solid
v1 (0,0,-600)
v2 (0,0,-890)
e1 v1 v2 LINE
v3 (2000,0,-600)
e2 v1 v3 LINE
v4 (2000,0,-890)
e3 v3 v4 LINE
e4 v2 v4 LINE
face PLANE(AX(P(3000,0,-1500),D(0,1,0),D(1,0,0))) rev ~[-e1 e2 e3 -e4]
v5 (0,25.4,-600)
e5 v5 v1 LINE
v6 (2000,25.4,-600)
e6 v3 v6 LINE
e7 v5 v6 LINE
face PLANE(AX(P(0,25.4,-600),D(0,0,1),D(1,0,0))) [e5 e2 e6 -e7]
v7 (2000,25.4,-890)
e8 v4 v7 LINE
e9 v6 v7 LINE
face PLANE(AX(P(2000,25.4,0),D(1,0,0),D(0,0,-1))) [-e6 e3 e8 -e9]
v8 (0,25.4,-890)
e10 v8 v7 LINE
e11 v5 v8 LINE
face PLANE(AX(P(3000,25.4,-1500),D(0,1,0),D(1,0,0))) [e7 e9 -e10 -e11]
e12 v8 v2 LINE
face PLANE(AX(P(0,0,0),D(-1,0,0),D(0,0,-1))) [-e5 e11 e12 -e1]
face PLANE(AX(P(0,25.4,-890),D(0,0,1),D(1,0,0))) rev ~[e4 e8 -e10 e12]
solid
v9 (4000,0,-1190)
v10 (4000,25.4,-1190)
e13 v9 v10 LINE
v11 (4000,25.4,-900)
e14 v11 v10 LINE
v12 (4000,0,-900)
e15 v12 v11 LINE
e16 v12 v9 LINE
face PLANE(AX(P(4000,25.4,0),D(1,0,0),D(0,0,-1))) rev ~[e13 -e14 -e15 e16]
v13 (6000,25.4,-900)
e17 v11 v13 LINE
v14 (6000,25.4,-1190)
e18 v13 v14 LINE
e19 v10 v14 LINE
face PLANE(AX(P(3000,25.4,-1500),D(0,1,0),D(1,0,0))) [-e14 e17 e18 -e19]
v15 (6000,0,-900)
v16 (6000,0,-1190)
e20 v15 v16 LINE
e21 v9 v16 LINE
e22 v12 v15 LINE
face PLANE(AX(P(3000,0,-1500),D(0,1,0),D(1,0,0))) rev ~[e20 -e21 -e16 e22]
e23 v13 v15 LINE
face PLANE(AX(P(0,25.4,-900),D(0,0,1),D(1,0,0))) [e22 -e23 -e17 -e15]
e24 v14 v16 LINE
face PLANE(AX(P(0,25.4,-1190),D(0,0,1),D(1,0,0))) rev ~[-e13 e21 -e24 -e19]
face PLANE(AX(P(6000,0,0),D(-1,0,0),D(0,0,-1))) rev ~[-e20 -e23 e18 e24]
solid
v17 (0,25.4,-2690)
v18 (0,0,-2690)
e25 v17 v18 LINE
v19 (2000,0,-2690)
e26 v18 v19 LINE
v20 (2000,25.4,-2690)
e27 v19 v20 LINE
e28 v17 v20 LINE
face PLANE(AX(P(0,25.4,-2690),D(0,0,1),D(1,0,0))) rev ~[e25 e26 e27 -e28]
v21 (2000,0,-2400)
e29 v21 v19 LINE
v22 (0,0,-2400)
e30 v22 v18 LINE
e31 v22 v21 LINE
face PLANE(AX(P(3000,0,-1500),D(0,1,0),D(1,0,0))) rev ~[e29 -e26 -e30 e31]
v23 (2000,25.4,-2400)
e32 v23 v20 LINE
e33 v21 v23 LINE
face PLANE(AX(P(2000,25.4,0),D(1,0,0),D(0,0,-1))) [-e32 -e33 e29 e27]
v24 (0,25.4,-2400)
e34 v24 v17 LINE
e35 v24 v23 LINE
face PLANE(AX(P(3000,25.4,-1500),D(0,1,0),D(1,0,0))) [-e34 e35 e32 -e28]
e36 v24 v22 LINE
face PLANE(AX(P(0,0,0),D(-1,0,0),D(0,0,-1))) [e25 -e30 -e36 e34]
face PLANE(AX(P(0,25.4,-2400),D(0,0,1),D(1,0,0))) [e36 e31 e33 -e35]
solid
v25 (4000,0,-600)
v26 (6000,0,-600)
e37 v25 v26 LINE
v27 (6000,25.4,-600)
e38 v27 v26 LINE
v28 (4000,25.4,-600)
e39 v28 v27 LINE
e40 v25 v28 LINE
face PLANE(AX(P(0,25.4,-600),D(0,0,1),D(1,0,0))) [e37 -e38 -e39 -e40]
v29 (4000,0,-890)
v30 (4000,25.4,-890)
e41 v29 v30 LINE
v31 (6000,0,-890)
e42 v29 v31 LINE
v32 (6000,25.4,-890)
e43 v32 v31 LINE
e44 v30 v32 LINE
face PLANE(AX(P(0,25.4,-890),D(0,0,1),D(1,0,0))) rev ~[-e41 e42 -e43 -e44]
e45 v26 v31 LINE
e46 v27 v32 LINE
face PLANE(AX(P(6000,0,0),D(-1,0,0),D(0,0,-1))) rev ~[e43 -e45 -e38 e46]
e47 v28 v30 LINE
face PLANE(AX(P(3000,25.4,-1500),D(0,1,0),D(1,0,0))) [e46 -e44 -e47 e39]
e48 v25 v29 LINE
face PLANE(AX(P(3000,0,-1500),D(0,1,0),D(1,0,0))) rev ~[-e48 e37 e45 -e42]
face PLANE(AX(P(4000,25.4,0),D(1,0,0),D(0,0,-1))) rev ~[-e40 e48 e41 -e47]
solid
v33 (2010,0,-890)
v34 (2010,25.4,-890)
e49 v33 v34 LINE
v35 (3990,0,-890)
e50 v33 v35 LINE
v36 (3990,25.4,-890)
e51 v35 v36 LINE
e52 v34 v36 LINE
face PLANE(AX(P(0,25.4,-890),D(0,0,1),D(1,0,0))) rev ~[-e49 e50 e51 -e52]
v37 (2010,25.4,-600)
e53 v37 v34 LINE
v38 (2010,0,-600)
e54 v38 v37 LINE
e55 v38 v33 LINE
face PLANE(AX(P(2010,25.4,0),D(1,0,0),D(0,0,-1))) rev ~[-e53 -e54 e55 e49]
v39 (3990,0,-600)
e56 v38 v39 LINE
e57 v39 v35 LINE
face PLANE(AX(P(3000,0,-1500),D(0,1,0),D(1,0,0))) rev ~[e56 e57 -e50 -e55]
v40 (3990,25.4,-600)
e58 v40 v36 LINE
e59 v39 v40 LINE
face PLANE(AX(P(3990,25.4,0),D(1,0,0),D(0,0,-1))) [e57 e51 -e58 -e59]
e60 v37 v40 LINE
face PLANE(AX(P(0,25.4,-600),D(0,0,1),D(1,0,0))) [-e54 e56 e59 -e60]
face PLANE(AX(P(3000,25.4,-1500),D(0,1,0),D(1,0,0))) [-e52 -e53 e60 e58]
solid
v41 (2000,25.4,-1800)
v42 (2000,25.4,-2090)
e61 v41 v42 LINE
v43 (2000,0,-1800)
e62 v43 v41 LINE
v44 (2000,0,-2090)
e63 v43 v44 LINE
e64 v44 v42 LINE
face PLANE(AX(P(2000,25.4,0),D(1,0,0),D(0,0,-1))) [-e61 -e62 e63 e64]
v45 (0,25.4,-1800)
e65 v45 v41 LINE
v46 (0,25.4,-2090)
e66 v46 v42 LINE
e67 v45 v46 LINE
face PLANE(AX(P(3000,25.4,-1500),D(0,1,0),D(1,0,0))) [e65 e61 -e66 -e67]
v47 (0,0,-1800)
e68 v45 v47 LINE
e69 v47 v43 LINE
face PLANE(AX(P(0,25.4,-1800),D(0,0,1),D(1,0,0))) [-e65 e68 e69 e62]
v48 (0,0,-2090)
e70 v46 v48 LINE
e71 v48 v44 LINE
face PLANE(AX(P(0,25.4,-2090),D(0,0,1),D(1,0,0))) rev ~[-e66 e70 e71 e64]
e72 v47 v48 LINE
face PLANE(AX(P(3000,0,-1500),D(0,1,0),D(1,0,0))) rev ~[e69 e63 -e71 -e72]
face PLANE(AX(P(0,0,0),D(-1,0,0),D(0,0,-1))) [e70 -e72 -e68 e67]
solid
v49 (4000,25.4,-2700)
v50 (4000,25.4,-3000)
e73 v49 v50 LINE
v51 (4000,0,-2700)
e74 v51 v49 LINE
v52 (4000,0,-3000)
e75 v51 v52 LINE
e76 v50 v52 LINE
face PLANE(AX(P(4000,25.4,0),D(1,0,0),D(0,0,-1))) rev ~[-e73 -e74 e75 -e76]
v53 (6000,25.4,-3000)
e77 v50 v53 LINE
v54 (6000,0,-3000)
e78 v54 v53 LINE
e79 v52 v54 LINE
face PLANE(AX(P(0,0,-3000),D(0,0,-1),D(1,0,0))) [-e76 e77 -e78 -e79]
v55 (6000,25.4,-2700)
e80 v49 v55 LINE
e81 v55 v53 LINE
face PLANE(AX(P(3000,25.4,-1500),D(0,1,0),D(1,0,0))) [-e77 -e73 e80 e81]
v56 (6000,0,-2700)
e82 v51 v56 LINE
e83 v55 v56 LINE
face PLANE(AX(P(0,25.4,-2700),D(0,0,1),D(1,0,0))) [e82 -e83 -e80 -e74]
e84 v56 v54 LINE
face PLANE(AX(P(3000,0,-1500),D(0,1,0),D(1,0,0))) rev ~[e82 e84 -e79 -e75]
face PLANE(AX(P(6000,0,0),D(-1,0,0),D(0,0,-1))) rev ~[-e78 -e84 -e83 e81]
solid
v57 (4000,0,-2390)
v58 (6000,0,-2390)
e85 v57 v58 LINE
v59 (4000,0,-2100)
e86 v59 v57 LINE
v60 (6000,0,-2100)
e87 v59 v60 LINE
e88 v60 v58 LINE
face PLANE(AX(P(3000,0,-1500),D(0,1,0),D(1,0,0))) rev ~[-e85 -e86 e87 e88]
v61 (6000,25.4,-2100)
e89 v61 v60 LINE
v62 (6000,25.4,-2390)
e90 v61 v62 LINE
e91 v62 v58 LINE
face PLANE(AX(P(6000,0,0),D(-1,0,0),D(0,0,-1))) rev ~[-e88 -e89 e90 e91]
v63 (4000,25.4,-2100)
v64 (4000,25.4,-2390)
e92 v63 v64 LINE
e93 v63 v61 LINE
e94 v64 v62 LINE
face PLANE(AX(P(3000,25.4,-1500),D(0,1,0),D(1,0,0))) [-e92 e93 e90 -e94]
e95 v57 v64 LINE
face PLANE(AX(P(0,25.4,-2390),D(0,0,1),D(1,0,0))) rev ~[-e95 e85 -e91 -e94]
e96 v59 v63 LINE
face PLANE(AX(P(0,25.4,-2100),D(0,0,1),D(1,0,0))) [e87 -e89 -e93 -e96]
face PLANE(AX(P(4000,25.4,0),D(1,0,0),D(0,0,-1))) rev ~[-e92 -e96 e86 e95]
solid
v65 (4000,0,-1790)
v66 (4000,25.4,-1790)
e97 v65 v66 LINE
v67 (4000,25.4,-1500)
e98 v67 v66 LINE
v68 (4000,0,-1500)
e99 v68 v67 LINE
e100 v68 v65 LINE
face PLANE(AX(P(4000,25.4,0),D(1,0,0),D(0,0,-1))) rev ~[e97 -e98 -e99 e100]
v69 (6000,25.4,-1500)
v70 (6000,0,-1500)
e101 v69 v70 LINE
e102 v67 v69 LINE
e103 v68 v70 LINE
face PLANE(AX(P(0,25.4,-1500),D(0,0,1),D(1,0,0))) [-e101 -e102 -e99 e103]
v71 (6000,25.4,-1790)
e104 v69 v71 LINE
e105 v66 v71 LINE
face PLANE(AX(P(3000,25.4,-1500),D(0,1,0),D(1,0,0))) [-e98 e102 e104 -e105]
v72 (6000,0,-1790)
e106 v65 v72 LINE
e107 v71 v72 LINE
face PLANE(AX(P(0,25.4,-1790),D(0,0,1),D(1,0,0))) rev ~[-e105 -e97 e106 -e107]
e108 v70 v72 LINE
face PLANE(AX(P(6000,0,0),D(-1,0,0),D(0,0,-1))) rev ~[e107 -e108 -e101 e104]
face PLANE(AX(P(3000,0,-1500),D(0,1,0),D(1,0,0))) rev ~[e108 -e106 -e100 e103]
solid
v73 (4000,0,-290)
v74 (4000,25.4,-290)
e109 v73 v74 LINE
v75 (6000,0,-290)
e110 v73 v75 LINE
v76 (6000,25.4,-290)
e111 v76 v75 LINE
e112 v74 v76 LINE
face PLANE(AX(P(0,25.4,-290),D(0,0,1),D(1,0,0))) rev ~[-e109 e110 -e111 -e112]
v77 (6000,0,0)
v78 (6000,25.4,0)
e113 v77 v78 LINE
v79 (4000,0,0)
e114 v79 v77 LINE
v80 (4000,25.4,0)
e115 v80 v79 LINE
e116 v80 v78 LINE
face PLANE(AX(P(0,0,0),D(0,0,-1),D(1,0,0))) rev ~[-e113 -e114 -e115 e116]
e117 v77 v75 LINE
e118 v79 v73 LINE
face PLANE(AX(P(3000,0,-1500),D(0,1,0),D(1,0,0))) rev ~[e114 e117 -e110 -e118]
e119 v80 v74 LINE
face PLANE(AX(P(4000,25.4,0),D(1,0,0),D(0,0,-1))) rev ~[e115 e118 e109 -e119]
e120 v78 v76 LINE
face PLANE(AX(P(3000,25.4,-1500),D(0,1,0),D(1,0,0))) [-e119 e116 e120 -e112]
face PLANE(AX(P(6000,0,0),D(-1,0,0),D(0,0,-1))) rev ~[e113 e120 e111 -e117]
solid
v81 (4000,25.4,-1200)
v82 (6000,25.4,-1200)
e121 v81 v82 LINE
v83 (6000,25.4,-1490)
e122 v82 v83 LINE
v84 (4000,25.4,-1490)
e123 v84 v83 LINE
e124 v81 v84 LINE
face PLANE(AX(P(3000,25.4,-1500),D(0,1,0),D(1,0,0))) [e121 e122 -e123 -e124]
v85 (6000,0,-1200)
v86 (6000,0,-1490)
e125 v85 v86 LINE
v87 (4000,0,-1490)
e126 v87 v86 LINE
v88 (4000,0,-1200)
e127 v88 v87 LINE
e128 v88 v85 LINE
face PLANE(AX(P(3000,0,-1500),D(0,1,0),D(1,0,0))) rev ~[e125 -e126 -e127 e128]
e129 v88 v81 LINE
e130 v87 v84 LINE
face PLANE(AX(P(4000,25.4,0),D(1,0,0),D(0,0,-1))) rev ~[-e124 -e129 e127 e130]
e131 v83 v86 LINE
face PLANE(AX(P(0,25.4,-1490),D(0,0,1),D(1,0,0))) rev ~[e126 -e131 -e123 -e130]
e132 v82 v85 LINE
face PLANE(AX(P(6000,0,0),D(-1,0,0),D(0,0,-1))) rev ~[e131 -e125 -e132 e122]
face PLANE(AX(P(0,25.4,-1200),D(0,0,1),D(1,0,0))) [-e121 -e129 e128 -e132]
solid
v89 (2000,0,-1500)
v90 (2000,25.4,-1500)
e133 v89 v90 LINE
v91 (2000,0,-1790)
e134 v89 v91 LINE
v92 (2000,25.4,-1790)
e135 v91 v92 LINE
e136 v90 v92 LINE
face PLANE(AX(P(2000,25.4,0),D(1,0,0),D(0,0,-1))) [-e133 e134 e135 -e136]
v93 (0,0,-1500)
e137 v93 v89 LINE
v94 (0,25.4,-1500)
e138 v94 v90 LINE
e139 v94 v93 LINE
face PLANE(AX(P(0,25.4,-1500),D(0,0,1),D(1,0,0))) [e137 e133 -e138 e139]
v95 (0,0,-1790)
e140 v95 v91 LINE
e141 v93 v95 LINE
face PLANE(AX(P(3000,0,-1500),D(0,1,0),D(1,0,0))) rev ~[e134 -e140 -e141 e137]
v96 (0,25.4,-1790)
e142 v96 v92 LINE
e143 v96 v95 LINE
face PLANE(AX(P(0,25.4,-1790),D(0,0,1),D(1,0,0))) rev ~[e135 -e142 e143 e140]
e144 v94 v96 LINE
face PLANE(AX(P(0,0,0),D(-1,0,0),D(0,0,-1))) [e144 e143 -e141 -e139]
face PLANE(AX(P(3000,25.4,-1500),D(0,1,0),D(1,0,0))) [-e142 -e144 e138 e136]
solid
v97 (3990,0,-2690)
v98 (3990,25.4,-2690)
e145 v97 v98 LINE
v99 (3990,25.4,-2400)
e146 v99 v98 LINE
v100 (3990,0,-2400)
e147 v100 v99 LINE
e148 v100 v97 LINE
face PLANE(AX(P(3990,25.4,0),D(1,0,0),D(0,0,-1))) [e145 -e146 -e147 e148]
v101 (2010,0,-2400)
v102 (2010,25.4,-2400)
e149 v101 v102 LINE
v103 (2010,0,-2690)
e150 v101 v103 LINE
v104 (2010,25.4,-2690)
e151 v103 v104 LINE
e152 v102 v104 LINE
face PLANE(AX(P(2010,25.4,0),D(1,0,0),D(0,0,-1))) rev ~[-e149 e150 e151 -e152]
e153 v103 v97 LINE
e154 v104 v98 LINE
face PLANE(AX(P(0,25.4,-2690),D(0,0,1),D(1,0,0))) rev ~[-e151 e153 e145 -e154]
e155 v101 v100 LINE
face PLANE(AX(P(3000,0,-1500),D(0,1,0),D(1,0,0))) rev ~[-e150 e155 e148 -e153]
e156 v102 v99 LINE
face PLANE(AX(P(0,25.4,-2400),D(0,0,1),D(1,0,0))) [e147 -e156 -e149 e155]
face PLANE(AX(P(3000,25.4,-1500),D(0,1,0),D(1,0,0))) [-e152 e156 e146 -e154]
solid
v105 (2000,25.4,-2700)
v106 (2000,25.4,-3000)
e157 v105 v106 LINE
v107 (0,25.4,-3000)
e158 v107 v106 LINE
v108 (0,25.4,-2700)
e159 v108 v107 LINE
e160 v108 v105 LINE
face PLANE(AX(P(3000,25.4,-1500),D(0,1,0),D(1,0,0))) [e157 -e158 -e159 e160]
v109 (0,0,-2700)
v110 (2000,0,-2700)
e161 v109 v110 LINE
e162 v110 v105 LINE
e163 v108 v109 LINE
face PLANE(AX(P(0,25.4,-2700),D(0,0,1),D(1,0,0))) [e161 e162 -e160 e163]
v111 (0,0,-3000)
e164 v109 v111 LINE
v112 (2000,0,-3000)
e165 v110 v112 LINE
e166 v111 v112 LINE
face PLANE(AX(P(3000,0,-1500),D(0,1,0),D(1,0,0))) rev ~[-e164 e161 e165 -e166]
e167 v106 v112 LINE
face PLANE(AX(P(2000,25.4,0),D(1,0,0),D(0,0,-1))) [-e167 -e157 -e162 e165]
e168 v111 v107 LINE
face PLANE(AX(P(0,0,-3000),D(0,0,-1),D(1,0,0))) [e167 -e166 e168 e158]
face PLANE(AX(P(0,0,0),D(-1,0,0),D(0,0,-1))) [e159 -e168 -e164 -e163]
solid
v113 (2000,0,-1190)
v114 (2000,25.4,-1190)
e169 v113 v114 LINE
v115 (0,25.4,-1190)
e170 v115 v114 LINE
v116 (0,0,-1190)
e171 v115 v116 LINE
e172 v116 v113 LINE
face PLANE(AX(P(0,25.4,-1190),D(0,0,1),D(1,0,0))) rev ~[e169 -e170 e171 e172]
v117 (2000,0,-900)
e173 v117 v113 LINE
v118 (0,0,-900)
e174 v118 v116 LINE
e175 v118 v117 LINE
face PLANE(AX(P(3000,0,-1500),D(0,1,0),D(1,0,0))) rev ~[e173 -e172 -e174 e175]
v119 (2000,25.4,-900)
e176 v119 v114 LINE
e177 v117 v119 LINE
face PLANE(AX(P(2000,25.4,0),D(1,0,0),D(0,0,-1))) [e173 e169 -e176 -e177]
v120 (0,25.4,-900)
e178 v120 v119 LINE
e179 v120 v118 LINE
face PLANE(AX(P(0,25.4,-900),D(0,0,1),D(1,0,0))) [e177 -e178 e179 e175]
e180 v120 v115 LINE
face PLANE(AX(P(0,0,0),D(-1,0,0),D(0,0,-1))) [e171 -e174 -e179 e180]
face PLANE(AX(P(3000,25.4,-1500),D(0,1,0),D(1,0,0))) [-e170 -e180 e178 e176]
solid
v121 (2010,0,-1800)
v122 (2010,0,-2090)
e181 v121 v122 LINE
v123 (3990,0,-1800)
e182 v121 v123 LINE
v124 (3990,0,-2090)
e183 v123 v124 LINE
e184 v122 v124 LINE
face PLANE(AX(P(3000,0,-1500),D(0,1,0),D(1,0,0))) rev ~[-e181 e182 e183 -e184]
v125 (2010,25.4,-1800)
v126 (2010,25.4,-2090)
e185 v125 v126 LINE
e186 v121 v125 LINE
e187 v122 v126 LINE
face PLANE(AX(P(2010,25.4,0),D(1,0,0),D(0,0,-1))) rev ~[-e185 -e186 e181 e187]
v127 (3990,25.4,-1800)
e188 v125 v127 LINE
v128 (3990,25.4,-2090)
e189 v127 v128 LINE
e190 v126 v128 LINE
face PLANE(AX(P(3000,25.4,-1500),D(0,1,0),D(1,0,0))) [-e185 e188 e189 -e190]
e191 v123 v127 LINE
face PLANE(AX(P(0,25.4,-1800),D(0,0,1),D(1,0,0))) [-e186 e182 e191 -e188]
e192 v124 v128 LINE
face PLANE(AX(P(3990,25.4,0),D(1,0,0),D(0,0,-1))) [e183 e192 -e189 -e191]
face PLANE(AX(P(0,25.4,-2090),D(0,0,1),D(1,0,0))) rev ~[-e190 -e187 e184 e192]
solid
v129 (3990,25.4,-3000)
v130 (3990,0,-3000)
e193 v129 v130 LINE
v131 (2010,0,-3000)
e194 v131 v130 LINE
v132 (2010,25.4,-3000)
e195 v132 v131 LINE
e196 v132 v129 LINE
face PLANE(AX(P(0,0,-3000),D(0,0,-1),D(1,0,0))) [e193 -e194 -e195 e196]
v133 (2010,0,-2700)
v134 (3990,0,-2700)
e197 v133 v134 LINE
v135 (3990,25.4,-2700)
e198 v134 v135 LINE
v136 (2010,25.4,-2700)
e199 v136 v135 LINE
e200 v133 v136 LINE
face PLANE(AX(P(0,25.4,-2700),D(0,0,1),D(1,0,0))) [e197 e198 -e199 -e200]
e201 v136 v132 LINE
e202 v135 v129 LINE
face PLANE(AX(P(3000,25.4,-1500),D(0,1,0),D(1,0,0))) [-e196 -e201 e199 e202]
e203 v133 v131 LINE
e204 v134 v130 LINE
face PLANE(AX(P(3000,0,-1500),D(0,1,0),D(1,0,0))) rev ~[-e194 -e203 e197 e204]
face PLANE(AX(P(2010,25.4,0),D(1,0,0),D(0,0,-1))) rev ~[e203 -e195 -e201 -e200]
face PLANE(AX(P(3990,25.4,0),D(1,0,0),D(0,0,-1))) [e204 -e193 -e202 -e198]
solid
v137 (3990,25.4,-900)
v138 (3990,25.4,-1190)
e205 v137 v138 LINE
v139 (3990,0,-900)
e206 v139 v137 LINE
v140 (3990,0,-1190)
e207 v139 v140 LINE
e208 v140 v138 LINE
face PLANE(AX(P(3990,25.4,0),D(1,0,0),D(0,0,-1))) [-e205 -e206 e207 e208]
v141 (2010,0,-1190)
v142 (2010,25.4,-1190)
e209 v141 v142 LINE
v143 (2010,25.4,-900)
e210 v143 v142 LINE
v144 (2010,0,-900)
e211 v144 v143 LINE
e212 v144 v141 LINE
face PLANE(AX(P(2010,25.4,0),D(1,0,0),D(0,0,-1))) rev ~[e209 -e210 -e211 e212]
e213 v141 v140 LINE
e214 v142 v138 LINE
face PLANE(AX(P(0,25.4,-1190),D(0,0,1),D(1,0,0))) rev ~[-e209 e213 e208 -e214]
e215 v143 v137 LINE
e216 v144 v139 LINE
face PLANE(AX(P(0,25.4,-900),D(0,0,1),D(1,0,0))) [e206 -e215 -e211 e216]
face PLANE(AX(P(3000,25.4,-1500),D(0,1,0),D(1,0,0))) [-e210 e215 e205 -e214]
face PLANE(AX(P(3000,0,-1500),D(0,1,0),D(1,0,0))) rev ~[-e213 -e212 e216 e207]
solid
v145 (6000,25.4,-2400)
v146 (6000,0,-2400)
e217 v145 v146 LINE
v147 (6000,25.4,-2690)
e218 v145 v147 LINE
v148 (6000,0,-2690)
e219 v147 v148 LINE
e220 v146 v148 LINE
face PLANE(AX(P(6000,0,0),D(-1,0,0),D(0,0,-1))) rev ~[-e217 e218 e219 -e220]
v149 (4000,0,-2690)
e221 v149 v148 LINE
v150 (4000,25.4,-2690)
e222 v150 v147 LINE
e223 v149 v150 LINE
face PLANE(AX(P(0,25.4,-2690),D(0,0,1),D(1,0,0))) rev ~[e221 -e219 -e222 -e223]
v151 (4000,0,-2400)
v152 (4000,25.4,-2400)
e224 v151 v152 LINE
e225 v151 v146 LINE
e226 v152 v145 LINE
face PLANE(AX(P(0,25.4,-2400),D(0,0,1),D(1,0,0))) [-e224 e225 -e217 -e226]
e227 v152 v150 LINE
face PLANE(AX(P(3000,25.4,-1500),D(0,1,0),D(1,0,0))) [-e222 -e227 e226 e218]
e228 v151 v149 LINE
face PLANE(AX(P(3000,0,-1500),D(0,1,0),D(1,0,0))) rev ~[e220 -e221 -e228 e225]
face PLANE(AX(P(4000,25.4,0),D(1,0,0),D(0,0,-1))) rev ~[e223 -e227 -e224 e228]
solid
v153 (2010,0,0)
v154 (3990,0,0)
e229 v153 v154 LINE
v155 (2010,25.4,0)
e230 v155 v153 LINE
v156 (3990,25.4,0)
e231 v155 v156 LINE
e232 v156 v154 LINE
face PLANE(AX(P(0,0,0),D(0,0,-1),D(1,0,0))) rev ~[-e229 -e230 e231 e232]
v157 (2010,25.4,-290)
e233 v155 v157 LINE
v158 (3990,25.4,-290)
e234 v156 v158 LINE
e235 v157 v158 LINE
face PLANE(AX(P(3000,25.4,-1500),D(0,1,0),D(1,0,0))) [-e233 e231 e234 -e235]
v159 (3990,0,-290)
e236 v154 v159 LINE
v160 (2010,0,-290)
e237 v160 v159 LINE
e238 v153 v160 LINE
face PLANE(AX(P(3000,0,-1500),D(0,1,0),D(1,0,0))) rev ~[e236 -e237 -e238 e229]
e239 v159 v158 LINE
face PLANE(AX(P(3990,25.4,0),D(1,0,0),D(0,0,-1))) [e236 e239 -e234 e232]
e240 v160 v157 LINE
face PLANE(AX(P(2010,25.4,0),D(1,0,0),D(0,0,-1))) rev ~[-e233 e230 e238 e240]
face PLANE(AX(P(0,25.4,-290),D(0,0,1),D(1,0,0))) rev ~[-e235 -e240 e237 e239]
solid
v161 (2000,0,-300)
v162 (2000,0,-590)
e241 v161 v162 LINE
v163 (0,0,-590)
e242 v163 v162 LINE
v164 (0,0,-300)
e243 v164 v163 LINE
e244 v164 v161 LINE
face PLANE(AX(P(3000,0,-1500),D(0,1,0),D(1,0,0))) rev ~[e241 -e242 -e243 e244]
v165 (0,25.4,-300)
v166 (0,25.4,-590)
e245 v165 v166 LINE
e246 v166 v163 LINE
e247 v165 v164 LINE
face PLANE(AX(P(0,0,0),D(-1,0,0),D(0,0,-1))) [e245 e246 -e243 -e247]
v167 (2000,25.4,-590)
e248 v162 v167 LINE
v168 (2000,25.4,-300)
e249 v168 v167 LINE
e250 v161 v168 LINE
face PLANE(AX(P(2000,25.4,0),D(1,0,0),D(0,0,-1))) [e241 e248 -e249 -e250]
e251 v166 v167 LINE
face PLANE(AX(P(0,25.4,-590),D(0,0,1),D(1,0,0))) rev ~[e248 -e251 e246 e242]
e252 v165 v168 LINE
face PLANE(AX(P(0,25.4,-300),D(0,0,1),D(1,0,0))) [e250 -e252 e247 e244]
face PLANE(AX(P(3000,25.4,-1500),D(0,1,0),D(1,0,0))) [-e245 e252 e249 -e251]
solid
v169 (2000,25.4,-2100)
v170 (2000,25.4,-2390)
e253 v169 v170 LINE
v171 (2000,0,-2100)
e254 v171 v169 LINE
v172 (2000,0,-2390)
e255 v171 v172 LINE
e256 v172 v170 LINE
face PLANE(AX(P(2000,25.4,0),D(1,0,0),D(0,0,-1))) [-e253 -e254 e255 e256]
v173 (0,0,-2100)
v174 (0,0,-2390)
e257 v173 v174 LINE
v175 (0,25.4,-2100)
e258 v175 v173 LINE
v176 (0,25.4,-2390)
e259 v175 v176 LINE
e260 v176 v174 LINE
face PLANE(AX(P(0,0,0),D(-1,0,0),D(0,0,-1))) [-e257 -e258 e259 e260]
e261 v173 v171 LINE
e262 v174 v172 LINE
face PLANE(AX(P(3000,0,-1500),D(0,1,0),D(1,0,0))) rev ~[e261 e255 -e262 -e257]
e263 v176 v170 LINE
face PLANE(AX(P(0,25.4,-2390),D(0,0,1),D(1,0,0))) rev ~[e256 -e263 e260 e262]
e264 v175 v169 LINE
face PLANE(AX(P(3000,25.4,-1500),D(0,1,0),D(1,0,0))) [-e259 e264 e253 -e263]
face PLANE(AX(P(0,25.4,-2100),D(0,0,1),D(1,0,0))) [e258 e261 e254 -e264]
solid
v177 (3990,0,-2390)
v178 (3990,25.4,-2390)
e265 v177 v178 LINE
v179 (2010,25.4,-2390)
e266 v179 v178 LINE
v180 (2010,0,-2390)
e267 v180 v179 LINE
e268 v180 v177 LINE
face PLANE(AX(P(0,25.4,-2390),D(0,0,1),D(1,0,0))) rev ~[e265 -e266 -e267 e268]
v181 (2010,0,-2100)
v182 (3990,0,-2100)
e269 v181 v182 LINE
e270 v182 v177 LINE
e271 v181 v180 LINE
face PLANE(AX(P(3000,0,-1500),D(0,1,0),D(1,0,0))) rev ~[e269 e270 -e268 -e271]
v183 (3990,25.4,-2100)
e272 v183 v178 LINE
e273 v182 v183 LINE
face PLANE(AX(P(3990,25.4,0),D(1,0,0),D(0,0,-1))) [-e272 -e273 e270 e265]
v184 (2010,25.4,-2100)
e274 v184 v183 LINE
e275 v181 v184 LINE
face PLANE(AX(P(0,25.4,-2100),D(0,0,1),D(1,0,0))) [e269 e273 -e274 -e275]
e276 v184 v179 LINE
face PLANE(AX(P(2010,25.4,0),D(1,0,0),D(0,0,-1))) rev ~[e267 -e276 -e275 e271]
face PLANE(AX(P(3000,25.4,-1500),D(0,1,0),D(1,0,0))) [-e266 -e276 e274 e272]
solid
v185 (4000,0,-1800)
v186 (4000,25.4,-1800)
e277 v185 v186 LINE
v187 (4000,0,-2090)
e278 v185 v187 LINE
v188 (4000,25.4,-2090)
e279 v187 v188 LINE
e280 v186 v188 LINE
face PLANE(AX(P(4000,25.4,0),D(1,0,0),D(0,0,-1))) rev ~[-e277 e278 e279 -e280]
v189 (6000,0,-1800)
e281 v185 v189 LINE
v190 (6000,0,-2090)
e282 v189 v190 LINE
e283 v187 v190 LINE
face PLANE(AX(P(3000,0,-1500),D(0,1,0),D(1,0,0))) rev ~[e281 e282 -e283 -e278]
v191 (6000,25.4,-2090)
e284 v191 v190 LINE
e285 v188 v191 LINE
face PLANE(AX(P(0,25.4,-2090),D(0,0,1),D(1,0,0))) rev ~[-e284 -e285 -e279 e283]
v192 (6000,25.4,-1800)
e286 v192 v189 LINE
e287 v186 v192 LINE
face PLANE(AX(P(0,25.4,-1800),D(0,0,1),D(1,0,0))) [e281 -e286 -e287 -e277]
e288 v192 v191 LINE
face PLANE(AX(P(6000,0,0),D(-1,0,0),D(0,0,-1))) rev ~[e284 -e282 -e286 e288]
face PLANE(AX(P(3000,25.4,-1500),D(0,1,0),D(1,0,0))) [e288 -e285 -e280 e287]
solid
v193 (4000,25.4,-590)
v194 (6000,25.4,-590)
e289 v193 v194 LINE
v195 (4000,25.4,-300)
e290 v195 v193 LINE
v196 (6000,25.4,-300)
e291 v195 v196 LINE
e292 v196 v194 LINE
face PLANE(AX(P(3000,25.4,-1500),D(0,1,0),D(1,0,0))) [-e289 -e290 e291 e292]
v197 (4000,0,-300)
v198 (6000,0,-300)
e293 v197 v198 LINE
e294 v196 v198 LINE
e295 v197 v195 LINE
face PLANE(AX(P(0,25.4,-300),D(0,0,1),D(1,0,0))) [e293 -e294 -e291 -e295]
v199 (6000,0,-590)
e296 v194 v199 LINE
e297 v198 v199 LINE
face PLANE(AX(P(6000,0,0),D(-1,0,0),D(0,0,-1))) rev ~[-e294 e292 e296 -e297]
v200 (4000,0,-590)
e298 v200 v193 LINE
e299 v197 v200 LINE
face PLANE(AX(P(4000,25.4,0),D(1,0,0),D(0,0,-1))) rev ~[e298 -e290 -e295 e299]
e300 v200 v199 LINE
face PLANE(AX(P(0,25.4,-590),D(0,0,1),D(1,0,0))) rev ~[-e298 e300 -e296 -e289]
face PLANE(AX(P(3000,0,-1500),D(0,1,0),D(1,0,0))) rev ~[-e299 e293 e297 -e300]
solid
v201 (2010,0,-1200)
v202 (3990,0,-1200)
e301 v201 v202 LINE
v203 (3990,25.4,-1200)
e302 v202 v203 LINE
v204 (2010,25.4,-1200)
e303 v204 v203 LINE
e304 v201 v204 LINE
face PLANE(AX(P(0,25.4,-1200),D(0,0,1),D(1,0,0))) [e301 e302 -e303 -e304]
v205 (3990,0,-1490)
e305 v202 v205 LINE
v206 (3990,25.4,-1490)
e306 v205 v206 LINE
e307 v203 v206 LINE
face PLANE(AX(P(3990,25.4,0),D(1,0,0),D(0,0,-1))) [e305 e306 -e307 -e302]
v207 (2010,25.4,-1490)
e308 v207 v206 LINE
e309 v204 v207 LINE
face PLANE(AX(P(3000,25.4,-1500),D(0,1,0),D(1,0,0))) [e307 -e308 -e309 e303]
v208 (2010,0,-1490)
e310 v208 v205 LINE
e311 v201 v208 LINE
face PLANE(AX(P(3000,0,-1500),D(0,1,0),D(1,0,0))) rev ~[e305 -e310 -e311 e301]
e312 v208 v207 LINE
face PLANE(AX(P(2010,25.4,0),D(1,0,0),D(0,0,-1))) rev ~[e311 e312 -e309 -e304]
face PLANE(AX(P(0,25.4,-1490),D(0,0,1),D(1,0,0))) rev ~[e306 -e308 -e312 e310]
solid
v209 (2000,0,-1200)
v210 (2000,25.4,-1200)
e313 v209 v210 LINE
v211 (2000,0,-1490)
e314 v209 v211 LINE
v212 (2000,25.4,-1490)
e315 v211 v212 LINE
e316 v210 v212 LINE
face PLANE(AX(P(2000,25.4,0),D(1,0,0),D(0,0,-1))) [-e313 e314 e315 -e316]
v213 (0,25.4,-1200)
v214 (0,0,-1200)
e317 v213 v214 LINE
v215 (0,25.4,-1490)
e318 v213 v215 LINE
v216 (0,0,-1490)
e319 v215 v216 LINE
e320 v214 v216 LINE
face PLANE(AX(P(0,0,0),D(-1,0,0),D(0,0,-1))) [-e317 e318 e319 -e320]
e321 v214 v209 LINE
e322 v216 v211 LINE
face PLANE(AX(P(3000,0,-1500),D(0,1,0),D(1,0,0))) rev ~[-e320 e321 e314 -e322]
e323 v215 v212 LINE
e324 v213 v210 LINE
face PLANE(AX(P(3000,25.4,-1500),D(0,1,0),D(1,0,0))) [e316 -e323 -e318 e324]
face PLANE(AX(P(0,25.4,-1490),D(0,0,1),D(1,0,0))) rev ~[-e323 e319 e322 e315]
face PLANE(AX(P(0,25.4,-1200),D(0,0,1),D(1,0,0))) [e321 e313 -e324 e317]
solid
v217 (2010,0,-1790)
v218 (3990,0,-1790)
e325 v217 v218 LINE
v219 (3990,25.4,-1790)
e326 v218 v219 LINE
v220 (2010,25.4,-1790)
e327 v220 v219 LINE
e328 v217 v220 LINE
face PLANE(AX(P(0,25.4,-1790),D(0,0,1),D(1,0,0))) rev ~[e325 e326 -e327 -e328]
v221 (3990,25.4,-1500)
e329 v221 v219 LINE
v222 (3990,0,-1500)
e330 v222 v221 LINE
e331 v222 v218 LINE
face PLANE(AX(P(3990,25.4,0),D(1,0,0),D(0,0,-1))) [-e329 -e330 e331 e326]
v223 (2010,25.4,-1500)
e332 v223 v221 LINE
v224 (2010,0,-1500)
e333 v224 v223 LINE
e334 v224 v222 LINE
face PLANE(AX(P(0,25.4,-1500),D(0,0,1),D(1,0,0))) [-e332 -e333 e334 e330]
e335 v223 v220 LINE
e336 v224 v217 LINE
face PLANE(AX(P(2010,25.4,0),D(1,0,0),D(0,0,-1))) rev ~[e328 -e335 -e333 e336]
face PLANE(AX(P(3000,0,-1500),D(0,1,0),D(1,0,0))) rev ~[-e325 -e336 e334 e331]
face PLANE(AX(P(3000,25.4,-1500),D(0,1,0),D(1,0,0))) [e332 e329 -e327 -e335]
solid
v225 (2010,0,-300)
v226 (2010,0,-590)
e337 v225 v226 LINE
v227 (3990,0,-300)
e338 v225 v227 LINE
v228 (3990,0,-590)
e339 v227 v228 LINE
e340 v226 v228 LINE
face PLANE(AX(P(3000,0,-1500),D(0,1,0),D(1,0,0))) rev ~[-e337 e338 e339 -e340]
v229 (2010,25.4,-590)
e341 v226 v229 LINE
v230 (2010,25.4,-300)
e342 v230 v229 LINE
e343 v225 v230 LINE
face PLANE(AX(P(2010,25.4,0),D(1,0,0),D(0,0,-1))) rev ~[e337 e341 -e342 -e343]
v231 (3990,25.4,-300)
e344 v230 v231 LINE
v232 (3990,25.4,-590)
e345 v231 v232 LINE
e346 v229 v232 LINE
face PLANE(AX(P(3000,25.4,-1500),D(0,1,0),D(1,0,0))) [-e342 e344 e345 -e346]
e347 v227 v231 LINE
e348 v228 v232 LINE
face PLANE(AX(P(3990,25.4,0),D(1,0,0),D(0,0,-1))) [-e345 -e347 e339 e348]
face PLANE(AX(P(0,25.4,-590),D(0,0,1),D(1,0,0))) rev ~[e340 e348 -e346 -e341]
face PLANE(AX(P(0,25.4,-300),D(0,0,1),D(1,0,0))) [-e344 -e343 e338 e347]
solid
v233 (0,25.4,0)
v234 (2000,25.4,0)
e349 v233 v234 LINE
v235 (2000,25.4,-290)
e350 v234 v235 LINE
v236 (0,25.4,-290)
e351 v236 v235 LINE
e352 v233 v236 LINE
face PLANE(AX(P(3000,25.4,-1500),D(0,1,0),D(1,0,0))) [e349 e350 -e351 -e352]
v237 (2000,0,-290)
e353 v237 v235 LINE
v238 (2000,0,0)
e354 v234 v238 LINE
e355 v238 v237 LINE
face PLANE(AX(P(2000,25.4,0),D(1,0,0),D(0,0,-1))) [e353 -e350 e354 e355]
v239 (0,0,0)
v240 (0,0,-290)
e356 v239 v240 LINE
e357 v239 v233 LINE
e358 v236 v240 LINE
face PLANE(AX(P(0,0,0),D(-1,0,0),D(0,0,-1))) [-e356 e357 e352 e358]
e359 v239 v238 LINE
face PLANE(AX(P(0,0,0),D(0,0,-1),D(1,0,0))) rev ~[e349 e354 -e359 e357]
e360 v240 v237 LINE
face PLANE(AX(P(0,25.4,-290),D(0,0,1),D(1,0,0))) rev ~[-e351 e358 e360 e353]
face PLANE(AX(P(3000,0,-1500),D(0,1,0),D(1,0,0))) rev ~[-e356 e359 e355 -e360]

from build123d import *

# Parameters (mm, degrees)
SKETCH_2_W          = 6000
SKETCH_2_H          = 3000
EXTRUDE_1_DEPTH     = 25.4
SKETCH_3_W          = 6000
SKETCH_3_H          = 10
CUT_EXTRUDE_1_DEPTH = 26.4
SKETCH_4_W          = 10
SKETCH_4_H          = 3000
CUT_EXTRUDE_2_DEPTH = 25.4


with BuildPart() as part:
    # 草图2 → 凸台-拉伸1 (new body)
    with BuildSketch(Plane(origin=(0, 0, 0), x_dir=(1, 0, 0), z_dir=(0, 1, 0))):
        with Locations((3000, 1500)):
            Rectangle(SKETCH_2_W, SKETCH_2_H)
    extrude(amount=EXTRUDE_1_DEPTH)

    # 草图3 → 切除-拉伸1 (cut, through all)
    with BuildSketch(Plane(origin=(0, 25.4, 0), x_dir=(1, 0, 0), z_dir=(0, 1, 0))):
        with Locations((3000, 2695)):
            Rectangle(SKETCH_3_W, SKETCH_3_H)
        with Locations((3000, 2395)):
            Rectangle(SKETCH_3_W, SKETCH_3_H)
        with Locations((3000, 2095)):
            Rectangle(SKETCH_3_W, SKETCH_3_H)
        with Locations((3000, 1795)):
            Rectangle(SKETCH_3_W, SKETCH_3_H)
        with Locations((3000, 1495)):
            Rectangle(SKETCH_3_W, SKETCH_3_H)
        with Locations((3000, 895)):
            Rectangle(SKETCH_3_W, SKETCH_3_H)
        with Locations((3000, 1195)):
            Rectangle(SKETCH_3_W, SKETCH_3_H)
        with Locations((3000, 595)):
            Rectangle(SKETCH_3_W, SKETCH_3_H)
        with Locations((3000, 295)):
            Rectangle(SKETCH_3_W, SKETCH_3_H)
    extrude(amount=-CUT_EXTRUDE_1_DEPTH, mode=Mode.SUBTRACT)

    # 草图4 → 切除-拉伸2 (cut)
    with BuildSketch(Plane(origin=(0, 25.4, 0), x_dir=(1, 0, 0), z_dir=(0, 1, 0))):
        with Locations((2005, 1500)):
            Rectangle(SKETCH_4_W, SKETCH_4_H)
        with Locations((3995, 1500)):
            Rectangle(SKETCH_4_W, SKETCH_4_H)
    extrude(amount=-CUT_EXTRUDE_2_DEPTH, mode=Mode.SUBTRACT)


solid = part.part
